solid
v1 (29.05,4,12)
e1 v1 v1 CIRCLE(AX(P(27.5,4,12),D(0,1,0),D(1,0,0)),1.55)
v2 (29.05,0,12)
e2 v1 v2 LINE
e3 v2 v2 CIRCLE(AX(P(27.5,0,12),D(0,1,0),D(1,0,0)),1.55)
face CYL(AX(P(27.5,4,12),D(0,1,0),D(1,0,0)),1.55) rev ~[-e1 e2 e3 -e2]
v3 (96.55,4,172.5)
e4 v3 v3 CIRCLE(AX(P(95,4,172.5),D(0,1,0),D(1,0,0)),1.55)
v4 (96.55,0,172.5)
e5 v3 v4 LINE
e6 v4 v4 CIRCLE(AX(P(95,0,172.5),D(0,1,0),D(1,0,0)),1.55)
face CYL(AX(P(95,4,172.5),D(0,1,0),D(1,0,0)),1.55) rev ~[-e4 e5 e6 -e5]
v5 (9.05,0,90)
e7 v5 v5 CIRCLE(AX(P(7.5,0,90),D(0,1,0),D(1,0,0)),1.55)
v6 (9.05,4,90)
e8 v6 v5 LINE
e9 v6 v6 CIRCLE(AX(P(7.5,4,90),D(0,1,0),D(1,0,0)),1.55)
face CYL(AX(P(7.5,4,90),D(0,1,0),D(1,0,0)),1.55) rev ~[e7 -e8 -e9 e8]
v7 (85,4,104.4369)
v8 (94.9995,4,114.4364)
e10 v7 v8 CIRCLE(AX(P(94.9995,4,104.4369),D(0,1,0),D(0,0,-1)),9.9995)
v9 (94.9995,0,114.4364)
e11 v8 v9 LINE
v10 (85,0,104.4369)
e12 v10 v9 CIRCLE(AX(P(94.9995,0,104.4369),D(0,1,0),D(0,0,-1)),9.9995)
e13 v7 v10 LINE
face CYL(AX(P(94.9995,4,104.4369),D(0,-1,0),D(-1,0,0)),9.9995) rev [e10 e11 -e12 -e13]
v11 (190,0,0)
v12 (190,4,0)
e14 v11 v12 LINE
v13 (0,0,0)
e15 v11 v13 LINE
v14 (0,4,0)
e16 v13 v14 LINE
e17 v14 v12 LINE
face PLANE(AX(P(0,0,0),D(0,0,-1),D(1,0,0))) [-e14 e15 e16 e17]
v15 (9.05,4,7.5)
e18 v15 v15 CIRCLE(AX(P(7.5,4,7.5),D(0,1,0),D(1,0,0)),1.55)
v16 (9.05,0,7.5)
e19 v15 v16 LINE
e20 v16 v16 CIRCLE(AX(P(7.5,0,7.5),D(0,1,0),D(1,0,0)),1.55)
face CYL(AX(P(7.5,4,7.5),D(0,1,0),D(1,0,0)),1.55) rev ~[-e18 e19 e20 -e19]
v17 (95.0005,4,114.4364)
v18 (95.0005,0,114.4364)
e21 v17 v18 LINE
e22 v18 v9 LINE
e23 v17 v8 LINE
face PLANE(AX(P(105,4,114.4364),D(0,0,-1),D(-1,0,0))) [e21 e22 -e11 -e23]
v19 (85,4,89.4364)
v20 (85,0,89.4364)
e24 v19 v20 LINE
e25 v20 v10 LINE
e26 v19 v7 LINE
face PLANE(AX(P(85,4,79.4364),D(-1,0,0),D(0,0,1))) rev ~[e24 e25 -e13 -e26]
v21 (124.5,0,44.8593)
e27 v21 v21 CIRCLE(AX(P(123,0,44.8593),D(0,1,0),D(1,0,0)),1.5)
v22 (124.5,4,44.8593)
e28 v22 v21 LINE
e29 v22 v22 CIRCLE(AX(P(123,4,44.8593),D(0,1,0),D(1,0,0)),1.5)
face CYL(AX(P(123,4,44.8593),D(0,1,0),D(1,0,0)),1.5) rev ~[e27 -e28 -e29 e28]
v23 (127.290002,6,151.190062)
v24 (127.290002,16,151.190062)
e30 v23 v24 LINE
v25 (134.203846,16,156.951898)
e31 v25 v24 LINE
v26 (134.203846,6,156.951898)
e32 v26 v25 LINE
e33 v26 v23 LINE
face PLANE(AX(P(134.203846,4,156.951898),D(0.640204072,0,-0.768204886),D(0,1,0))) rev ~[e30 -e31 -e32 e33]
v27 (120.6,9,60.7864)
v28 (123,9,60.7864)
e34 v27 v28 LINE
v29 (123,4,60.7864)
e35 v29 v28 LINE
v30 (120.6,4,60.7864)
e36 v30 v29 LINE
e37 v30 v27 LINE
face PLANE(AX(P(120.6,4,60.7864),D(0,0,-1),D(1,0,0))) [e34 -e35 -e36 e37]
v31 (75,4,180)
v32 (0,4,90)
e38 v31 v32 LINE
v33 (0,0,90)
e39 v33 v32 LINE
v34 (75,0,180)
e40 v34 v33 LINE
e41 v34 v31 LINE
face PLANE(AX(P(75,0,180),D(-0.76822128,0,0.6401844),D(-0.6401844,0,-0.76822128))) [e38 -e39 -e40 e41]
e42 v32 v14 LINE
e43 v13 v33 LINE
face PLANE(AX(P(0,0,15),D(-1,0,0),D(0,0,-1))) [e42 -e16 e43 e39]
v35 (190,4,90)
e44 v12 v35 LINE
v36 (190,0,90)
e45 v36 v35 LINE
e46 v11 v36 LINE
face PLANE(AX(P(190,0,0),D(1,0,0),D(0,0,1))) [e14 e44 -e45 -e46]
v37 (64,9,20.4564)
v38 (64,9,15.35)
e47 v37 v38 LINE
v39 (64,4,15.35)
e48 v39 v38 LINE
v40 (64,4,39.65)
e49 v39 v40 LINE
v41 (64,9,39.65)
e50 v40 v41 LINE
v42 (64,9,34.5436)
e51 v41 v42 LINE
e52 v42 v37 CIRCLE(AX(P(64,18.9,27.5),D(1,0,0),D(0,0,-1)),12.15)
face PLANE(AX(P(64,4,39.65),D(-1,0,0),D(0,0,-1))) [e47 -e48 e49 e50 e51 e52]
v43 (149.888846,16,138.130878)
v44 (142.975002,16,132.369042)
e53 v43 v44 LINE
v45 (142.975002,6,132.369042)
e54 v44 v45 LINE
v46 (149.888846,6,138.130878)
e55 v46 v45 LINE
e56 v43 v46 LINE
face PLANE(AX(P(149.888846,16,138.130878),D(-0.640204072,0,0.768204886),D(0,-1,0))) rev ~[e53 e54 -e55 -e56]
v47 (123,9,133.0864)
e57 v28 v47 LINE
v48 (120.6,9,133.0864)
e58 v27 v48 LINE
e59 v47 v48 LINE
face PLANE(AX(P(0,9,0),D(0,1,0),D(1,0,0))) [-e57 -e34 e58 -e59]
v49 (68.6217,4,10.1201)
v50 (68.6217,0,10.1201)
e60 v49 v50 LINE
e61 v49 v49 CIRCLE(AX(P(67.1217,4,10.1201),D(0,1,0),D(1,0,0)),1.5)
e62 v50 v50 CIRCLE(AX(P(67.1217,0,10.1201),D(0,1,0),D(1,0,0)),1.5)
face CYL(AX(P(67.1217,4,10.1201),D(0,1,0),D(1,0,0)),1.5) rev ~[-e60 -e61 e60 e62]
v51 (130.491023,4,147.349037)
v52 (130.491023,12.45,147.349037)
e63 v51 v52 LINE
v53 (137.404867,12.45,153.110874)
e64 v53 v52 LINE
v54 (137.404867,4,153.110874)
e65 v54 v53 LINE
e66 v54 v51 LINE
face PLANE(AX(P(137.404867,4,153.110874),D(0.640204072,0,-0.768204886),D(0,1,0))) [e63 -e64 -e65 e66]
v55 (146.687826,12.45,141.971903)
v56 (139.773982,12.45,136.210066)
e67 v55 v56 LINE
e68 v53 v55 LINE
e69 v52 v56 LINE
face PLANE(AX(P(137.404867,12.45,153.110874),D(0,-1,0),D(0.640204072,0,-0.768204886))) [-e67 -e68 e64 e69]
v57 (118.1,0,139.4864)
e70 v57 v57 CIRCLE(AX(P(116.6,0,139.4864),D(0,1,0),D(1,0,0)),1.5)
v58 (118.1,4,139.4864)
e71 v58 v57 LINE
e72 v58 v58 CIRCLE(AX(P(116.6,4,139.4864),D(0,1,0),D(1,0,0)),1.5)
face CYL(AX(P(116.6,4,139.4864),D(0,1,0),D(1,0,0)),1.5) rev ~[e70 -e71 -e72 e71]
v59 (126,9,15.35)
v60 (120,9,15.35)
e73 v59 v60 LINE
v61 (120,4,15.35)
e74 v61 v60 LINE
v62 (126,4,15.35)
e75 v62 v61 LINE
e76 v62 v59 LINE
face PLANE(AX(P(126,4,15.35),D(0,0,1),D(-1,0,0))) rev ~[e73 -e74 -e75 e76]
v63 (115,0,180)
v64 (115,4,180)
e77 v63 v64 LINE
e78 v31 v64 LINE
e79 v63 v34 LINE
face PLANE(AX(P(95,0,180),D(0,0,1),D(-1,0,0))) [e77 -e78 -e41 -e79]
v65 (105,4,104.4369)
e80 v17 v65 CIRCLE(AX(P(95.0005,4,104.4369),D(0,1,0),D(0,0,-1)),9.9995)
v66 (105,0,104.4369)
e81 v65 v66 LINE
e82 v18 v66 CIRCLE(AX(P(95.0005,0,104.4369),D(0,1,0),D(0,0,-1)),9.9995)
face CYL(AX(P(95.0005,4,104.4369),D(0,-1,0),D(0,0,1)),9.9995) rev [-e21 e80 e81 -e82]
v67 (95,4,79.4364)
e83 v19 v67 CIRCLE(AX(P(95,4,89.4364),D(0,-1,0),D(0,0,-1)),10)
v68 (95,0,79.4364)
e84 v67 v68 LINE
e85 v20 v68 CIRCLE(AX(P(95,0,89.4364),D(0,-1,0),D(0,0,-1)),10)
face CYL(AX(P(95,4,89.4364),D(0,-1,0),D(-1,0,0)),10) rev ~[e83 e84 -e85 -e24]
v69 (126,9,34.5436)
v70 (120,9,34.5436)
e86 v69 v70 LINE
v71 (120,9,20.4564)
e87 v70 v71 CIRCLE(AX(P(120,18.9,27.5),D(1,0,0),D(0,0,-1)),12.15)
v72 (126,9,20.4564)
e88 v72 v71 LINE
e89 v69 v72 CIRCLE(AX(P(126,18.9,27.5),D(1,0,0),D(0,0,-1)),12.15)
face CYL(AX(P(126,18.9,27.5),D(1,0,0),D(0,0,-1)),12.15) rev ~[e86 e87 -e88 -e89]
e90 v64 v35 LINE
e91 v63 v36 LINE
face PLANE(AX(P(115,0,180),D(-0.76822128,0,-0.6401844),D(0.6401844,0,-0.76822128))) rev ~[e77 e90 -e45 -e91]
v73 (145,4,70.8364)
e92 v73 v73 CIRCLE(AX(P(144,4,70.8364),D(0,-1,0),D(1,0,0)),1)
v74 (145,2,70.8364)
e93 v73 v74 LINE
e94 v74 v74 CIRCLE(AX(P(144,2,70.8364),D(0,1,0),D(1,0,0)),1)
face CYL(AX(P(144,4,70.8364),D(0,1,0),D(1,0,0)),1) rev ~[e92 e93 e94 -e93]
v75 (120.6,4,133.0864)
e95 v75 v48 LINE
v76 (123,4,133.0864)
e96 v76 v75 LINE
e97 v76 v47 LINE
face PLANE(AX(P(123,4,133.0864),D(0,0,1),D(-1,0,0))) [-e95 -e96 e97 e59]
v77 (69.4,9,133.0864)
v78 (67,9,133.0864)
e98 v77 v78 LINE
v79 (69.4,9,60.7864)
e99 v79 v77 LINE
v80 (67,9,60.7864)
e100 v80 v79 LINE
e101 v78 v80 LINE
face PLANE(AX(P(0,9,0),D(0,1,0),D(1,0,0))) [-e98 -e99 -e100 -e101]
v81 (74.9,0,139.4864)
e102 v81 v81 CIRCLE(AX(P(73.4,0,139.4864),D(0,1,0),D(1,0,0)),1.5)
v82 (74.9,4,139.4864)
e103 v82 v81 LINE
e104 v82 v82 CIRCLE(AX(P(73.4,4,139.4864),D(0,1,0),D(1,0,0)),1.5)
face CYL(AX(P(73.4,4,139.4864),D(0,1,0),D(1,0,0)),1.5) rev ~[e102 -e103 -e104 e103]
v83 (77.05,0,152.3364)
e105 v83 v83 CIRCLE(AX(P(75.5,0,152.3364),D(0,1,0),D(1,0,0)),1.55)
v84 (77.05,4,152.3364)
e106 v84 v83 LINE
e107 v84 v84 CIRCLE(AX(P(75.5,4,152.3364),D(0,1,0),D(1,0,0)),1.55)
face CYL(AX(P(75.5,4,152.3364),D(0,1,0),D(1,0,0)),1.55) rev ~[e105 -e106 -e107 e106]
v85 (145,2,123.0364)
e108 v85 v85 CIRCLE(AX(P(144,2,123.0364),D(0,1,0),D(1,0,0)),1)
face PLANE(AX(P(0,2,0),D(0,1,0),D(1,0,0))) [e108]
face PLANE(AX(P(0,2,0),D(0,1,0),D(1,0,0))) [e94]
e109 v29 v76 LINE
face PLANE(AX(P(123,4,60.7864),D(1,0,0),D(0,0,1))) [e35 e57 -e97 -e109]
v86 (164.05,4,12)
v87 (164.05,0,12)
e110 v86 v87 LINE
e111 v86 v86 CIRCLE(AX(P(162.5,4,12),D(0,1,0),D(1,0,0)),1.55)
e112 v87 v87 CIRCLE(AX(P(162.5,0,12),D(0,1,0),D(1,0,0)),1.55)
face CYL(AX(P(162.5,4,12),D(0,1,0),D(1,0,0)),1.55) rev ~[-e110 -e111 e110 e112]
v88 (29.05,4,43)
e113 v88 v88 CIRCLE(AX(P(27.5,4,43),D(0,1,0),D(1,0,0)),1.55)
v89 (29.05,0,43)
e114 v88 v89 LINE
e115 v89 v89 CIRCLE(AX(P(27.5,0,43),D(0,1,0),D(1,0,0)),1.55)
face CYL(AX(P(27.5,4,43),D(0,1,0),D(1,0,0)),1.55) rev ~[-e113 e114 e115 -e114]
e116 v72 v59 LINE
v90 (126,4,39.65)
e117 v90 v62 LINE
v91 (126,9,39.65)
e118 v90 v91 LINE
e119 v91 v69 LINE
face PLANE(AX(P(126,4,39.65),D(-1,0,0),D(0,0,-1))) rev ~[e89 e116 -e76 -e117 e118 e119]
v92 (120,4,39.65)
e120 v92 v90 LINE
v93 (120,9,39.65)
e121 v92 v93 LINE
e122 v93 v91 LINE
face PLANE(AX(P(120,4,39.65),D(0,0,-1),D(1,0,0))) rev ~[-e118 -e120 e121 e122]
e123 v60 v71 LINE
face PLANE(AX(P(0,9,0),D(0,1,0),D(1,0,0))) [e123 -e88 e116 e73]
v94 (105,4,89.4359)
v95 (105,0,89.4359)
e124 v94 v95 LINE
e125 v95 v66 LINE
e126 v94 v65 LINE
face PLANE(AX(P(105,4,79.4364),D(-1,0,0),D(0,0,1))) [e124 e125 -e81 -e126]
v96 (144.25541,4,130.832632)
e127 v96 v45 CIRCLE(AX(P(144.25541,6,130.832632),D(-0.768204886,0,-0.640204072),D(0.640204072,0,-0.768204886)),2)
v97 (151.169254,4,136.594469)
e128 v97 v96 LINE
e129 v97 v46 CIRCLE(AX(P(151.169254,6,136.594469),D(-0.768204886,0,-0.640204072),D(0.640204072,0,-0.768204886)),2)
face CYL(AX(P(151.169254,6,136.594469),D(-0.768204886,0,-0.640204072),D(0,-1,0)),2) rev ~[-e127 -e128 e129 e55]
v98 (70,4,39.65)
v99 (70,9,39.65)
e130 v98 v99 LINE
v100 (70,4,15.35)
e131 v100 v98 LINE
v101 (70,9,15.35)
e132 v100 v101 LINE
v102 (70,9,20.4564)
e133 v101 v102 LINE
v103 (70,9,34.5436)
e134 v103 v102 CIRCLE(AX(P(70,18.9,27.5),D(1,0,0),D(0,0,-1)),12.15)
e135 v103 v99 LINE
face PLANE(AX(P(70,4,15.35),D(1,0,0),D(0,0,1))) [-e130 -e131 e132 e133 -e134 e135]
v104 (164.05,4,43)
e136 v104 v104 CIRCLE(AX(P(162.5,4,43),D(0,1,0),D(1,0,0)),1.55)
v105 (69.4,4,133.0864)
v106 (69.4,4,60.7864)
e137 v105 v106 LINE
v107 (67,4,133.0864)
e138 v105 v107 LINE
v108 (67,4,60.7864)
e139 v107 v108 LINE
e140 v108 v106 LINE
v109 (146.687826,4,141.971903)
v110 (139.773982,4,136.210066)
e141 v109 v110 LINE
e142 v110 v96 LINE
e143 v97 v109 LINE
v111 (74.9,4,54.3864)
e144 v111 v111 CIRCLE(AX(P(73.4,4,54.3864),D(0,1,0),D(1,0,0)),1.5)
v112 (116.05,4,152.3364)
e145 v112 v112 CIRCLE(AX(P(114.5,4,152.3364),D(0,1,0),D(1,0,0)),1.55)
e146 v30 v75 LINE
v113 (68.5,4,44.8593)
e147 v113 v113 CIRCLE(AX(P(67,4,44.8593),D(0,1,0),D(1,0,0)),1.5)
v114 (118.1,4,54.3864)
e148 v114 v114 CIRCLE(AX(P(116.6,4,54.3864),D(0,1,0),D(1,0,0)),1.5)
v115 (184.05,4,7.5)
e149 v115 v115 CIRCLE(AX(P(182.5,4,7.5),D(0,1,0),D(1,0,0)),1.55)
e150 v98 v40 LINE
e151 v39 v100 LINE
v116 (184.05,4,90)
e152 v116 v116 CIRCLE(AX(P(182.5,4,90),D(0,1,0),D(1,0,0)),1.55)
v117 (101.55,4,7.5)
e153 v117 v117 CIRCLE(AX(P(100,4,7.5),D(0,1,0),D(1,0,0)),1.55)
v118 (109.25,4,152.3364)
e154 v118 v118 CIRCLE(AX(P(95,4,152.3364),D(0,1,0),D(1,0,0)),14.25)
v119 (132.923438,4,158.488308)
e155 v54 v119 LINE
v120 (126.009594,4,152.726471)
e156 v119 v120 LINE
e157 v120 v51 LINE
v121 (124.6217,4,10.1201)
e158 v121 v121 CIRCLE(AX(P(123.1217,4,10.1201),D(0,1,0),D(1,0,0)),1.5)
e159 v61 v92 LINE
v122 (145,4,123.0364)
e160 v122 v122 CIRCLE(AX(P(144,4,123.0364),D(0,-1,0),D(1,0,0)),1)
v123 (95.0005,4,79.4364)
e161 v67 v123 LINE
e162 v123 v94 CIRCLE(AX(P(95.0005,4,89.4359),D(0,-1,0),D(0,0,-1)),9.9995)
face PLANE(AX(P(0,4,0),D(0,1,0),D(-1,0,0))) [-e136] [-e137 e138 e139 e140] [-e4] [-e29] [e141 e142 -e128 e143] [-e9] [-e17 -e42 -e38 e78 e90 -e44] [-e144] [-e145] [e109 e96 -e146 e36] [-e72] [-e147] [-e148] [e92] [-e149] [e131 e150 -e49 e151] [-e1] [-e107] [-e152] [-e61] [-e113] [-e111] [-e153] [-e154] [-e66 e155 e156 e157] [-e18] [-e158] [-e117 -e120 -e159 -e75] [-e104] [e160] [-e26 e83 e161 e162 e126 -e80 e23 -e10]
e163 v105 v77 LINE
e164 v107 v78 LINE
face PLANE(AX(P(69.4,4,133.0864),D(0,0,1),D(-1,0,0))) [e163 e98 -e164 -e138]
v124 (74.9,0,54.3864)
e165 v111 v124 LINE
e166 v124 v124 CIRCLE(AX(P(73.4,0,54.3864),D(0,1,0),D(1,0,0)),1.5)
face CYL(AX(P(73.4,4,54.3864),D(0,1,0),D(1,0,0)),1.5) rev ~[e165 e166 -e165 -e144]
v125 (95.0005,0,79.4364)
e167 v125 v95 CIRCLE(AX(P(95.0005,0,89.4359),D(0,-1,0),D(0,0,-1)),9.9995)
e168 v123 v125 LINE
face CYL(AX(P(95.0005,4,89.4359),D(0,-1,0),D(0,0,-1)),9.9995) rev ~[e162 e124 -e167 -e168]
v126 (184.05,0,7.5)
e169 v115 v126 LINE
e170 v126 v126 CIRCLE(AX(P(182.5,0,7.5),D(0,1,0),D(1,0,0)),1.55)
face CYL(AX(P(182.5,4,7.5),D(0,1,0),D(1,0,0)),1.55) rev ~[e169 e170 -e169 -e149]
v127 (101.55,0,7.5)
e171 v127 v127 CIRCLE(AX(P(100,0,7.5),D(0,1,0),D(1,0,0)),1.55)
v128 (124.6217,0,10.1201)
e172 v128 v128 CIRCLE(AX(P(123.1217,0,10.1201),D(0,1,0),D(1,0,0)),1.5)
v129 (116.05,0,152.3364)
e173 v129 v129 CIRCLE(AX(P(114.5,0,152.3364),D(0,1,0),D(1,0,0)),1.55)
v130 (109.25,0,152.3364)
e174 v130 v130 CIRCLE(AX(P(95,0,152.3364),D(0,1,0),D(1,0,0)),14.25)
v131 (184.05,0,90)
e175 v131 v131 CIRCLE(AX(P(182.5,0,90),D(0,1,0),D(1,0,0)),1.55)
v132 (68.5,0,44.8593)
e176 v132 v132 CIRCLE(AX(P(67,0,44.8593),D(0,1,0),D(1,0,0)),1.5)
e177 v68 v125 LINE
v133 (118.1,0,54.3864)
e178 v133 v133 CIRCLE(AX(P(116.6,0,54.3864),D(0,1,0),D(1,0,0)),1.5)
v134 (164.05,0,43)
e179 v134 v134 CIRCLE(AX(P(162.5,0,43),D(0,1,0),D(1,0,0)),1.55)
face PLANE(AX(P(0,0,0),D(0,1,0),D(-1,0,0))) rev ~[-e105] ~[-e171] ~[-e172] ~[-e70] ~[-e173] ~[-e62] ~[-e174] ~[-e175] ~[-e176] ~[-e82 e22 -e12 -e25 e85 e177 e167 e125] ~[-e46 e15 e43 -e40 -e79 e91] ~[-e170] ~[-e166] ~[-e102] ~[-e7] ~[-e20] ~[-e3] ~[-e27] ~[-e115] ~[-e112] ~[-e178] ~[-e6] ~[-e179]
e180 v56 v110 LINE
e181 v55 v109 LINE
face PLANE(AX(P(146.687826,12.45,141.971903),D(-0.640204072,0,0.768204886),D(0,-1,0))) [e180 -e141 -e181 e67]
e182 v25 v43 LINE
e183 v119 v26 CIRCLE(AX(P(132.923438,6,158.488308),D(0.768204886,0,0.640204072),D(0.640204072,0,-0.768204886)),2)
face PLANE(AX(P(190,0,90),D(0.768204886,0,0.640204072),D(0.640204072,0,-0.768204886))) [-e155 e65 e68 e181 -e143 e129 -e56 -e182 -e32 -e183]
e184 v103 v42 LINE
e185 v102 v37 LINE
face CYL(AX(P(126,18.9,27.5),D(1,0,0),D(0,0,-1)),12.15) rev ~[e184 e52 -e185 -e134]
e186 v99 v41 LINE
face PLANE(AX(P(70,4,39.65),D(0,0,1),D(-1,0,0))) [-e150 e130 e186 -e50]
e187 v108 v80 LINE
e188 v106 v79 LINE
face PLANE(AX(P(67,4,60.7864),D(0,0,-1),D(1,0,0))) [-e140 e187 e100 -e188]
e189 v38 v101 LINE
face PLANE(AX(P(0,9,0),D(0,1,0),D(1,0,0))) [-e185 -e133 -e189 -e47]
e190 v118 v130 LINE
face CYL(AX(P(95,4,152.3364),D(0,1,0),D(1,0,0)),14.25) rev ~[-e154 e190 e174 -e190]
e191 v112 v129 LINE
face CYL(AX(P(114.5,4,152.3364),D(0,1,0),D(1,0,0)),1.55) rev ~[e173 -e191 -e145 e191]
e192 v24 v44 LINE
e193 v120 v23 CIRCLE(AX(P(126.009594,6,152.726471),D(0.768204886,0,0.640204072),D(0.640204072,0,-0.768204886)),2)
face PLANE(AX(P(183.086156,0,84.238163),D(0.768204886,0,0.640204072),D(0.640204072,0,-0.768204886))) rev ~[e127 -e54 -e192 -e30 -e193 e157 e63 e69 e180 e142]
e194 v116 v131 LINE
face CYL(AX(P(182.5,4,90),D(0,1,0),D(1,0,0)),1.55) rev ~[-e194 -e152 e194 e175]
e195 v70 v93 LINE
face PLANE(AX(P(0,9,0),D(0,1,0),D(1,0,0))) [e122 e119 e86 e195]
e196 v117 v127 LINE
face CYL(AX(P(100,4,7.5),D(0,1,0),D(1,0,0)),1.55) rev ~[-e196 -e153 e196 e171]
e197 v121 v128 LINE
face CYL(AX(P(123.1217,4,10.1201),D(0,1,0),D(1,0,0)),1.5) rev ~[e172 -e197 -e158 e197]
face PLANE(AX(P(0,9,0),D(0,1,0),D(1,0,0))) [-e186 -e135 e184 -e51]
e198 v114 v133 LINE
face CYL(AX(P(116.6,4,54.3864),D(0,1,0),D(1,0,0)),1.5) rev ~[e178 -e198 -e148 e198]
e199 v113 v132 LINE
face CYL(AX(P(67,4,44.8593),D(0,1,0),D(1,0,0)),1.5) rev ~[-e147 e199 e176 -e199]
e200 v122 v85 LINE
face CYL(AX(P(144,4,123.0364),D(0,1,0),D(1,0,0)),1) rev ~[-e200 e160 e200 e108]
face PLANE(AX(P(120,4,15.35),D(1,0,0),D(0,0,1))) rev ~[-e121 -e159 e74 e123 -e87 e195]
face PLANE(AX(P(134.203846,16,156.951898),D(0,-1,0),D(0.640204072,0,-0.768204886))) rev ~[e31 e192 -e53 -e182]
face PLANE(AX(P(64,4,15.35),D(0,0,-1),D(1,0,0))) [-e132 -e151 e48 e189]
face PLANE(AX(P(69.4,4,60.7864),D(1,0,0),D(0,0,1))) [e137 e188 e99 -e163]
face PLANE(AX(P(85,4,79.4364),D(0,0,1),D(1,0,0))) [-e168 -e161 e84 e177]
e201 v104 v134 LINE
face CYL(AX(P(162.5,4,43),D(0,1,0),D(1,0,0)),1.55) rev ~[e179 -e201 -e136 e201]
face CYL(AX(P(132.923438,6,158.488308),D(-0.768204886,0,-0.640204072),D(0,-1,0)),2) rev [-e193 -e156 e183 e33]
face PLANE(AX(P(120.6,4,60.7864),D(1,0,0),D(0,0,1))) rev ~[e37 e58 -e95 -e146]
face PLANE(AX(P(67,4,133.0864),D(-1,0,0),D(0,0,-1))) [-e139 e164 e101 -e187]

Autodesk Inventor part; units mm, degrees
ref_plane "YZ Plane" through (0, 0, 0) normal (1, 0, 0) x (0, 1, 0)
ref_plane "XZ Plane" through (0, 0, 0) normal (0, 1, 0) x (-1, 0, 0)
ref_plane "XY Plane" through (0, 0, 0) normal (0, 0, 1) x (1, 0, 0)
sketch "Sketch1" plane through (0, 0, 0) normal (0, 1, 0) x (-1, 0, 0)
  line L0 (0, 0) -> (-190, 0)
  line L1 (0, 15) -> (0, 0)
  line L2 (-95, 0) -> (-95, 180)
  line L3 (0, 0) -> (0, 90)
  line L4 (-190, 0) -> (-190, 90)
  line L5 (-95, 180) -> (-75, 180)
  line L6 (-75, 180) -> (0, 90)
  line L7 (-95, 180) -> (-115, 180)
  line L8 (-115, 180) -> (-190, 90)
  dimension "d1" = 190
  dimension "d37" = 180
  dimension "d39" = 20
  dimension "d40" = 20
extrude "Extrusion1" add sketch "Sketch1" along normal blind 4
sketch "Sketch5" plane through (0, 4, 0) normal (0, 1, 0) x (1, 0, 0)
  circle A0 centre (27.5, -12) radius 1.55 projected
  circle A1 centre (27.5, -43) radius 1.55 projected
  circle A2 centre (162.5, -43) radius 1.55 projected
  circle A3 centre (162.5, -12) radius 1.55 projected
  point P0 (0, 0)
extrude "Extrusion2" cut sketch "Sketch5" against normal blind 10
sketch "Sketch6" plane through (0, 4, 0) normal (0, 1, 0) x (1, 0, 0)
  line L0 (64, -39.65) -> (64, -15.35)
  line L1 (190, 0) -> (0, 0) projected
  circle A0 centre (27.5, -43) radius 1.55 projected
  circle A1 centre (27.5, -12) radius 1.55 projected
  line L2 (64, -27.5) -> (64, -15.35)
  line L3 (64, -15.35) -> (70, -15.35)
  line L4 (70, -15.35) -> (70, -39.65)
  line L5 (70, -39.65) -> (64, -39.65)
  line L6 (190, 0) -> (0, 0) projected
  line L7 (126, -39.65) -> (126, -15.35)
  line L8 (126, -15.35) -> (120, -15.35)
  line L9 (120, -15.35) -> (120, -39.65)
  line L10 (120, -39.65) -> (126, -39.65)
  dimension "d131" = 6
  dimension "d132" = 6
extrude "Extrusion3" add sketch "Sketch6" along normal blind 5 contours L0 L3 L4 L5 | L10 L9 L8 L7
sketch "Sketch14" plane through (0, 4, 0) normal (0, 1, 0) x (1, 0, 0)
  line L0 (190, 0) -> (0, 0) projected
  line L1 (0, 0) -> (0, -7.5)
  line L2 (0, 0) -> (0, -15) projected
  line L3 (0, -90) -> (75, -180) projected
  circle A0 centre (7.5, -7.5) radius 1.55
  circle A1 centre (7.5, -90) radius 1.55
  line L4 (75, -180) -> (115, -180) projected
  circle A2 centre (182.5, -7.5) radius 1.55
  circle A3 centre (182.5, -90) radius 1.55
  circle A4 centre (95, -172.5) radius 1.55
  dimension "d68" = 7.5
  dimension "d71" = 3.1
  dimension "d72" = 3.1
  dimension "d74" = 3.1
extrude "Extrusion10" cut sketch "Sketch14" against normal blind 10
sketch "Sketch17" plane through (0, 4, 0) normal (0, 1, 0) x (1, 0, 0)
  circle A0 centre (95, -152.3364) radius 14.25
  line L0 (75, -180) -> (115, -180) projected
  point P0 (0, 0)
  dimension "d101" = 28.5
  dimension "d112" = 27.6636
extrude "Extrusion13" cut sketch "Sketch17" against normal through all
sketch "Sketch19" plane through (0, 4, 0) normal (0, 1, 0) x (1, 0, 0)
  circle A0 centre (95, -152.3364) radius 14.25 projected
  circle A1 centre (114.5, -152.3364) radius 1.55
  circle A2 centre (75.5, -152.3364) radius 1.55
  point P0 (0, 0)
  dimension "d108" = 3.1
  dimension "d109" = 3.1
extrude "Extrusion14" cut sketch "Sketch19" against normal blind 5 contours A1 | A2
sketch "Sketch27" plane through (126, 4, 39.65) normal (1, 0, 0) x (0, 0, -1)
  circle A0 centre (12.15, 14.9) radius 2 projected
  circle A1 centre (12.15, 14.9) radius 12.15 projected
  arc A2 (5.1064, 5) -> (19.1936, 5) centre (12.15, 14.9) ccw
  line L0 (0, 5) -> (24.3, 5) projected
  line L1 (5.1064, 5) -> (19.1936, 5)
  point P0 (39.65, -4)
  point P1 (5.1064, 5)
extrude "Extrusion18" cut sketch "Sketch27" against normal through all contours L0 A1 picked at (10.6816, 4.5256)
sketch "Sketch28" plane through (0, 4, 0) normal (0, 1, 0) x (1, 0, 0)
  circle A0 centre (67, -44.8593) radius 1.5 projected
  circle A1 centre (123, -44.8593) radius 1.5 projected
  circle A2 centre (123.1217, -10.1201) radius 1.5 projected
  circle A3 centre (67.1217, -10.1201) radius 1.5 projected
  circle A4 centre (67.1217, -10.1201) radius 1.55
  circle A5 centre (123.1217, -10.1201) radius 1.55
  circle A6 centre (123, -44.8593) radius 1.55
  circle A7 centre (67, -44.8593) radius 1.55
  point P0 (0, 0)
  dimension "d135" = 3.1
  dimension "d136" = 3.1
  dimension "d137" = 3.1
  dimension "d138" = 3.1
extrude "Extrusion19" cut sketch "Sketch28" against normal blind 10 contours A0 | A1 | A2 | A3
sketch "Sketch29" plane through (0, 4, 0) normal (0, 1, 0) x (1, 0, 0)
  circle A0 centre (7.5, -7.5) radius 1.55 projected
  circle A1 centre (182.5, -7.5) radius 1.55 projected
  circle A2 centre (100, -7.5) radius 1.55
  line L0 (0, 0) -> (0, -90) projected
  dimension "d141" = 3.1
  dimension "d194" = 100
extrude "Extrusion20" cut sketch "Sketch29" against normal blind 10 contours A2
sketch "Sketch30" plane through (0, 4, 0) normal (0, 1, 0) x (1, 0, 0)
  circle A0 centre (100, -7.5) radius 1.55 projected
  line L0 (120.6, -60.7864) -> (120.6, -133.0864)
  line L1 (69.4, -60.7864) -> (69.4, -133.0864)
  circle A1 centre (95, -152.3364) radius 14.25 projected
  line L2 (120.6, -133.0864) -> (69.4, -133.0864)
  line L3 (120.6, -60.7864) -> (69.4, -60.7864)
  line L4 (69.4, -60.7864) -> (69.4, -133.0864)
  line L5 (120.6, -60.7864) -> (120.6, -133.0864)
  line L6 (69.4, -129.6517) -> (69.4, -60.7864)
  line L7 (120.6, -60.7864) -> (123, -60.7864)
  line L8 (123, -60.7864) -> (123, -133.0864)
  line L9 (123, -133.0864) -> (120.6, -133.0864)
  line L10 (120.6, -133.0864) -> (120.6, -60.7864)
  line L11 (69.4, -60.7864) -> (69.4, -133.0864)
  line L12 (69.4, -133.0864) -> (67, -133.0864)
  line L13 (67, -133.0864) -> (67, -60.7864)
  line L14 (67, -60.7864) -> (69.4, -60.7864)
  point P0 (0, 0)
  dimension "d148" = 51.2
  dimension "d149" = 72.3
  dimension "d151" = 2.4
  dimension "d152" = 2.4
extrude "Extrusion21" add sketch "Sketch30" along normal blind 5 contours L7 L8 L9 L0 | L1 L12 L13 L14
sketch "Sketch31" plane through (0, 4, 0) normal (0, 1, 0) x (1, 0, 0)
  line L0 (123, -60.7864) -> (123, -133.0864) projected
  line L1 (128, -73.8364) -> (160, -73.8364)
  line L2 (160, -73.8364) -> (160, -120.0364)
  line L3 (160, -120.0364) -> (128, -120.0364)
  line L4 (128, -120.0364) -> (128, -73.8364)
  line L5 (144, -73.8364) -> (144, -70.8364)
  line L6 (144, -120.0364) -> (144, -123.0364)
  circle A0 centre (144, -70.8364) radius 1
  circle A1 centre (144, -123.0364) radius 1
  point P0 (0, 0)
  dimension "d156" = 32
  dimension "d157" = 46.2
  dimension "d158" = 5
  dimension "d159" = 3
  dimension "d160" = 3
  dimension "d161" = 2
  dimension "d162" = 2
extrude "Extrusion22" cut sketch "Sketch31" against normal blind 2 contours A0 | A1
sketch "Sketch33" plane through (190, 0, 90) normal (0.7682, 0, 0.6402) x (0.6402, 0, -0.7682)
  line L0 (-117.1537, 0) -> (-117.1537, 4) projected
  line L1 (-117.1537, 4) -> (-82.1537, 4)
  line L2 (-117.1537, 4) -> (0, 4) projected
  line L3 (-82.1537, 4) -> (-82.1537, 12.45)
  line L4 (-82.1537, 12.45) -> (-67.6537, 12.45)
  line L5 (-67.6537, 12.45) -> (-67.6537, 4)
  line L6 (-82.1537, 4) -> (-87.1537, 4)
  line L7 (-87.1537, 4) -> (-87.1537, 16)
  line L8 (-87.1537, 16) -> (-62.6537, 16)
  line L9 (-62.6537, 16) -> (-62.6537, 4)
  point P0 (-52.4951, 0)
  dimension "d171" = 35
  dimension "d172" = 8.45
  dimension "d173" = 14.5
  dimension "d174" = 5
  dimension "d175" = 12
  dimension "d176" = 24.5
extrude "Extrusion24" add sketch "Sketch33" against normal blind 9 contours L7 L8 L9 L2 L5 L4 L3 L1
fillet "Fillet1" radius 2 1 edges at (130.7485, 4, 154.0725)
fillet "Fillet2" radius 2 1 edges at (146.4331, 4, 135.2511)
sketch "Sketch34" plane through (0, 4, 0) normal (0, 1, 0) x (1, 0, 0)
  line L0 (85, -79.4364) -> (105, -79.4364)
  line L1 (105, -79.4364) -> (105, -114.4364)
  line L2 (105, -114.4364) -> (85, -114.4364)
  line L3 (69.4, -60.7864) -> (69.4, -133.0864) projected
  line L4 (120.6, -60.7864) -> (120.6, -133.0864) projected
  line L5 (85, -79.4364) -> (85, -114.4364)
  point P0 (0, 0)
  dimension "d181" = 20
  dimension "d182" = 35
extrude "Extrusion25" cut sketch "Sketch34" against normal blind 10
fillet "Fillet3" radius 10 1 edges at (85, 2, 79.4364)
fillet "Fillet4" radius 10 3 edges at (105, 2, 114.4364) (105, 2, 79.4364) (85, 2, 114.4364)
sketch "Sketch35" plane through (0, 4, 0) normal (0, 1, 0) x (1, 0, 0)
  circle A0 centre (116.6, -54.3864) radius 1.5 projected
  circle A1 centre (73.4, -54.3864) radius 1.5 projected
  circle A2 centre (73.4, -139.4864) radius 1.5 projected
  circle A3 centre (116.6, -139.4864) radius 1.5 projected
  circle A4 centre (73.4, -54.3864) radius 1.55
  circle A5 centre (116.6, -54.3864) radius 1.55
  circle A6 centre (116.6, -139.4864) radius 1.55
  circle A7 centre (73.4, -139.4864) radius 1.55
  point P0 (0, 0)
  dimension "d188" = 3.1
  dimension "d189" = 3.1
  dimension "d190" = 3.1
  dimension "d191" = 3.1
extrude "Extrusion26" cut sketch "Sketch35" against normal through all contours A0 | A1 | A2 | A3
properties part number "bp_v3" material "PET Plastic"
